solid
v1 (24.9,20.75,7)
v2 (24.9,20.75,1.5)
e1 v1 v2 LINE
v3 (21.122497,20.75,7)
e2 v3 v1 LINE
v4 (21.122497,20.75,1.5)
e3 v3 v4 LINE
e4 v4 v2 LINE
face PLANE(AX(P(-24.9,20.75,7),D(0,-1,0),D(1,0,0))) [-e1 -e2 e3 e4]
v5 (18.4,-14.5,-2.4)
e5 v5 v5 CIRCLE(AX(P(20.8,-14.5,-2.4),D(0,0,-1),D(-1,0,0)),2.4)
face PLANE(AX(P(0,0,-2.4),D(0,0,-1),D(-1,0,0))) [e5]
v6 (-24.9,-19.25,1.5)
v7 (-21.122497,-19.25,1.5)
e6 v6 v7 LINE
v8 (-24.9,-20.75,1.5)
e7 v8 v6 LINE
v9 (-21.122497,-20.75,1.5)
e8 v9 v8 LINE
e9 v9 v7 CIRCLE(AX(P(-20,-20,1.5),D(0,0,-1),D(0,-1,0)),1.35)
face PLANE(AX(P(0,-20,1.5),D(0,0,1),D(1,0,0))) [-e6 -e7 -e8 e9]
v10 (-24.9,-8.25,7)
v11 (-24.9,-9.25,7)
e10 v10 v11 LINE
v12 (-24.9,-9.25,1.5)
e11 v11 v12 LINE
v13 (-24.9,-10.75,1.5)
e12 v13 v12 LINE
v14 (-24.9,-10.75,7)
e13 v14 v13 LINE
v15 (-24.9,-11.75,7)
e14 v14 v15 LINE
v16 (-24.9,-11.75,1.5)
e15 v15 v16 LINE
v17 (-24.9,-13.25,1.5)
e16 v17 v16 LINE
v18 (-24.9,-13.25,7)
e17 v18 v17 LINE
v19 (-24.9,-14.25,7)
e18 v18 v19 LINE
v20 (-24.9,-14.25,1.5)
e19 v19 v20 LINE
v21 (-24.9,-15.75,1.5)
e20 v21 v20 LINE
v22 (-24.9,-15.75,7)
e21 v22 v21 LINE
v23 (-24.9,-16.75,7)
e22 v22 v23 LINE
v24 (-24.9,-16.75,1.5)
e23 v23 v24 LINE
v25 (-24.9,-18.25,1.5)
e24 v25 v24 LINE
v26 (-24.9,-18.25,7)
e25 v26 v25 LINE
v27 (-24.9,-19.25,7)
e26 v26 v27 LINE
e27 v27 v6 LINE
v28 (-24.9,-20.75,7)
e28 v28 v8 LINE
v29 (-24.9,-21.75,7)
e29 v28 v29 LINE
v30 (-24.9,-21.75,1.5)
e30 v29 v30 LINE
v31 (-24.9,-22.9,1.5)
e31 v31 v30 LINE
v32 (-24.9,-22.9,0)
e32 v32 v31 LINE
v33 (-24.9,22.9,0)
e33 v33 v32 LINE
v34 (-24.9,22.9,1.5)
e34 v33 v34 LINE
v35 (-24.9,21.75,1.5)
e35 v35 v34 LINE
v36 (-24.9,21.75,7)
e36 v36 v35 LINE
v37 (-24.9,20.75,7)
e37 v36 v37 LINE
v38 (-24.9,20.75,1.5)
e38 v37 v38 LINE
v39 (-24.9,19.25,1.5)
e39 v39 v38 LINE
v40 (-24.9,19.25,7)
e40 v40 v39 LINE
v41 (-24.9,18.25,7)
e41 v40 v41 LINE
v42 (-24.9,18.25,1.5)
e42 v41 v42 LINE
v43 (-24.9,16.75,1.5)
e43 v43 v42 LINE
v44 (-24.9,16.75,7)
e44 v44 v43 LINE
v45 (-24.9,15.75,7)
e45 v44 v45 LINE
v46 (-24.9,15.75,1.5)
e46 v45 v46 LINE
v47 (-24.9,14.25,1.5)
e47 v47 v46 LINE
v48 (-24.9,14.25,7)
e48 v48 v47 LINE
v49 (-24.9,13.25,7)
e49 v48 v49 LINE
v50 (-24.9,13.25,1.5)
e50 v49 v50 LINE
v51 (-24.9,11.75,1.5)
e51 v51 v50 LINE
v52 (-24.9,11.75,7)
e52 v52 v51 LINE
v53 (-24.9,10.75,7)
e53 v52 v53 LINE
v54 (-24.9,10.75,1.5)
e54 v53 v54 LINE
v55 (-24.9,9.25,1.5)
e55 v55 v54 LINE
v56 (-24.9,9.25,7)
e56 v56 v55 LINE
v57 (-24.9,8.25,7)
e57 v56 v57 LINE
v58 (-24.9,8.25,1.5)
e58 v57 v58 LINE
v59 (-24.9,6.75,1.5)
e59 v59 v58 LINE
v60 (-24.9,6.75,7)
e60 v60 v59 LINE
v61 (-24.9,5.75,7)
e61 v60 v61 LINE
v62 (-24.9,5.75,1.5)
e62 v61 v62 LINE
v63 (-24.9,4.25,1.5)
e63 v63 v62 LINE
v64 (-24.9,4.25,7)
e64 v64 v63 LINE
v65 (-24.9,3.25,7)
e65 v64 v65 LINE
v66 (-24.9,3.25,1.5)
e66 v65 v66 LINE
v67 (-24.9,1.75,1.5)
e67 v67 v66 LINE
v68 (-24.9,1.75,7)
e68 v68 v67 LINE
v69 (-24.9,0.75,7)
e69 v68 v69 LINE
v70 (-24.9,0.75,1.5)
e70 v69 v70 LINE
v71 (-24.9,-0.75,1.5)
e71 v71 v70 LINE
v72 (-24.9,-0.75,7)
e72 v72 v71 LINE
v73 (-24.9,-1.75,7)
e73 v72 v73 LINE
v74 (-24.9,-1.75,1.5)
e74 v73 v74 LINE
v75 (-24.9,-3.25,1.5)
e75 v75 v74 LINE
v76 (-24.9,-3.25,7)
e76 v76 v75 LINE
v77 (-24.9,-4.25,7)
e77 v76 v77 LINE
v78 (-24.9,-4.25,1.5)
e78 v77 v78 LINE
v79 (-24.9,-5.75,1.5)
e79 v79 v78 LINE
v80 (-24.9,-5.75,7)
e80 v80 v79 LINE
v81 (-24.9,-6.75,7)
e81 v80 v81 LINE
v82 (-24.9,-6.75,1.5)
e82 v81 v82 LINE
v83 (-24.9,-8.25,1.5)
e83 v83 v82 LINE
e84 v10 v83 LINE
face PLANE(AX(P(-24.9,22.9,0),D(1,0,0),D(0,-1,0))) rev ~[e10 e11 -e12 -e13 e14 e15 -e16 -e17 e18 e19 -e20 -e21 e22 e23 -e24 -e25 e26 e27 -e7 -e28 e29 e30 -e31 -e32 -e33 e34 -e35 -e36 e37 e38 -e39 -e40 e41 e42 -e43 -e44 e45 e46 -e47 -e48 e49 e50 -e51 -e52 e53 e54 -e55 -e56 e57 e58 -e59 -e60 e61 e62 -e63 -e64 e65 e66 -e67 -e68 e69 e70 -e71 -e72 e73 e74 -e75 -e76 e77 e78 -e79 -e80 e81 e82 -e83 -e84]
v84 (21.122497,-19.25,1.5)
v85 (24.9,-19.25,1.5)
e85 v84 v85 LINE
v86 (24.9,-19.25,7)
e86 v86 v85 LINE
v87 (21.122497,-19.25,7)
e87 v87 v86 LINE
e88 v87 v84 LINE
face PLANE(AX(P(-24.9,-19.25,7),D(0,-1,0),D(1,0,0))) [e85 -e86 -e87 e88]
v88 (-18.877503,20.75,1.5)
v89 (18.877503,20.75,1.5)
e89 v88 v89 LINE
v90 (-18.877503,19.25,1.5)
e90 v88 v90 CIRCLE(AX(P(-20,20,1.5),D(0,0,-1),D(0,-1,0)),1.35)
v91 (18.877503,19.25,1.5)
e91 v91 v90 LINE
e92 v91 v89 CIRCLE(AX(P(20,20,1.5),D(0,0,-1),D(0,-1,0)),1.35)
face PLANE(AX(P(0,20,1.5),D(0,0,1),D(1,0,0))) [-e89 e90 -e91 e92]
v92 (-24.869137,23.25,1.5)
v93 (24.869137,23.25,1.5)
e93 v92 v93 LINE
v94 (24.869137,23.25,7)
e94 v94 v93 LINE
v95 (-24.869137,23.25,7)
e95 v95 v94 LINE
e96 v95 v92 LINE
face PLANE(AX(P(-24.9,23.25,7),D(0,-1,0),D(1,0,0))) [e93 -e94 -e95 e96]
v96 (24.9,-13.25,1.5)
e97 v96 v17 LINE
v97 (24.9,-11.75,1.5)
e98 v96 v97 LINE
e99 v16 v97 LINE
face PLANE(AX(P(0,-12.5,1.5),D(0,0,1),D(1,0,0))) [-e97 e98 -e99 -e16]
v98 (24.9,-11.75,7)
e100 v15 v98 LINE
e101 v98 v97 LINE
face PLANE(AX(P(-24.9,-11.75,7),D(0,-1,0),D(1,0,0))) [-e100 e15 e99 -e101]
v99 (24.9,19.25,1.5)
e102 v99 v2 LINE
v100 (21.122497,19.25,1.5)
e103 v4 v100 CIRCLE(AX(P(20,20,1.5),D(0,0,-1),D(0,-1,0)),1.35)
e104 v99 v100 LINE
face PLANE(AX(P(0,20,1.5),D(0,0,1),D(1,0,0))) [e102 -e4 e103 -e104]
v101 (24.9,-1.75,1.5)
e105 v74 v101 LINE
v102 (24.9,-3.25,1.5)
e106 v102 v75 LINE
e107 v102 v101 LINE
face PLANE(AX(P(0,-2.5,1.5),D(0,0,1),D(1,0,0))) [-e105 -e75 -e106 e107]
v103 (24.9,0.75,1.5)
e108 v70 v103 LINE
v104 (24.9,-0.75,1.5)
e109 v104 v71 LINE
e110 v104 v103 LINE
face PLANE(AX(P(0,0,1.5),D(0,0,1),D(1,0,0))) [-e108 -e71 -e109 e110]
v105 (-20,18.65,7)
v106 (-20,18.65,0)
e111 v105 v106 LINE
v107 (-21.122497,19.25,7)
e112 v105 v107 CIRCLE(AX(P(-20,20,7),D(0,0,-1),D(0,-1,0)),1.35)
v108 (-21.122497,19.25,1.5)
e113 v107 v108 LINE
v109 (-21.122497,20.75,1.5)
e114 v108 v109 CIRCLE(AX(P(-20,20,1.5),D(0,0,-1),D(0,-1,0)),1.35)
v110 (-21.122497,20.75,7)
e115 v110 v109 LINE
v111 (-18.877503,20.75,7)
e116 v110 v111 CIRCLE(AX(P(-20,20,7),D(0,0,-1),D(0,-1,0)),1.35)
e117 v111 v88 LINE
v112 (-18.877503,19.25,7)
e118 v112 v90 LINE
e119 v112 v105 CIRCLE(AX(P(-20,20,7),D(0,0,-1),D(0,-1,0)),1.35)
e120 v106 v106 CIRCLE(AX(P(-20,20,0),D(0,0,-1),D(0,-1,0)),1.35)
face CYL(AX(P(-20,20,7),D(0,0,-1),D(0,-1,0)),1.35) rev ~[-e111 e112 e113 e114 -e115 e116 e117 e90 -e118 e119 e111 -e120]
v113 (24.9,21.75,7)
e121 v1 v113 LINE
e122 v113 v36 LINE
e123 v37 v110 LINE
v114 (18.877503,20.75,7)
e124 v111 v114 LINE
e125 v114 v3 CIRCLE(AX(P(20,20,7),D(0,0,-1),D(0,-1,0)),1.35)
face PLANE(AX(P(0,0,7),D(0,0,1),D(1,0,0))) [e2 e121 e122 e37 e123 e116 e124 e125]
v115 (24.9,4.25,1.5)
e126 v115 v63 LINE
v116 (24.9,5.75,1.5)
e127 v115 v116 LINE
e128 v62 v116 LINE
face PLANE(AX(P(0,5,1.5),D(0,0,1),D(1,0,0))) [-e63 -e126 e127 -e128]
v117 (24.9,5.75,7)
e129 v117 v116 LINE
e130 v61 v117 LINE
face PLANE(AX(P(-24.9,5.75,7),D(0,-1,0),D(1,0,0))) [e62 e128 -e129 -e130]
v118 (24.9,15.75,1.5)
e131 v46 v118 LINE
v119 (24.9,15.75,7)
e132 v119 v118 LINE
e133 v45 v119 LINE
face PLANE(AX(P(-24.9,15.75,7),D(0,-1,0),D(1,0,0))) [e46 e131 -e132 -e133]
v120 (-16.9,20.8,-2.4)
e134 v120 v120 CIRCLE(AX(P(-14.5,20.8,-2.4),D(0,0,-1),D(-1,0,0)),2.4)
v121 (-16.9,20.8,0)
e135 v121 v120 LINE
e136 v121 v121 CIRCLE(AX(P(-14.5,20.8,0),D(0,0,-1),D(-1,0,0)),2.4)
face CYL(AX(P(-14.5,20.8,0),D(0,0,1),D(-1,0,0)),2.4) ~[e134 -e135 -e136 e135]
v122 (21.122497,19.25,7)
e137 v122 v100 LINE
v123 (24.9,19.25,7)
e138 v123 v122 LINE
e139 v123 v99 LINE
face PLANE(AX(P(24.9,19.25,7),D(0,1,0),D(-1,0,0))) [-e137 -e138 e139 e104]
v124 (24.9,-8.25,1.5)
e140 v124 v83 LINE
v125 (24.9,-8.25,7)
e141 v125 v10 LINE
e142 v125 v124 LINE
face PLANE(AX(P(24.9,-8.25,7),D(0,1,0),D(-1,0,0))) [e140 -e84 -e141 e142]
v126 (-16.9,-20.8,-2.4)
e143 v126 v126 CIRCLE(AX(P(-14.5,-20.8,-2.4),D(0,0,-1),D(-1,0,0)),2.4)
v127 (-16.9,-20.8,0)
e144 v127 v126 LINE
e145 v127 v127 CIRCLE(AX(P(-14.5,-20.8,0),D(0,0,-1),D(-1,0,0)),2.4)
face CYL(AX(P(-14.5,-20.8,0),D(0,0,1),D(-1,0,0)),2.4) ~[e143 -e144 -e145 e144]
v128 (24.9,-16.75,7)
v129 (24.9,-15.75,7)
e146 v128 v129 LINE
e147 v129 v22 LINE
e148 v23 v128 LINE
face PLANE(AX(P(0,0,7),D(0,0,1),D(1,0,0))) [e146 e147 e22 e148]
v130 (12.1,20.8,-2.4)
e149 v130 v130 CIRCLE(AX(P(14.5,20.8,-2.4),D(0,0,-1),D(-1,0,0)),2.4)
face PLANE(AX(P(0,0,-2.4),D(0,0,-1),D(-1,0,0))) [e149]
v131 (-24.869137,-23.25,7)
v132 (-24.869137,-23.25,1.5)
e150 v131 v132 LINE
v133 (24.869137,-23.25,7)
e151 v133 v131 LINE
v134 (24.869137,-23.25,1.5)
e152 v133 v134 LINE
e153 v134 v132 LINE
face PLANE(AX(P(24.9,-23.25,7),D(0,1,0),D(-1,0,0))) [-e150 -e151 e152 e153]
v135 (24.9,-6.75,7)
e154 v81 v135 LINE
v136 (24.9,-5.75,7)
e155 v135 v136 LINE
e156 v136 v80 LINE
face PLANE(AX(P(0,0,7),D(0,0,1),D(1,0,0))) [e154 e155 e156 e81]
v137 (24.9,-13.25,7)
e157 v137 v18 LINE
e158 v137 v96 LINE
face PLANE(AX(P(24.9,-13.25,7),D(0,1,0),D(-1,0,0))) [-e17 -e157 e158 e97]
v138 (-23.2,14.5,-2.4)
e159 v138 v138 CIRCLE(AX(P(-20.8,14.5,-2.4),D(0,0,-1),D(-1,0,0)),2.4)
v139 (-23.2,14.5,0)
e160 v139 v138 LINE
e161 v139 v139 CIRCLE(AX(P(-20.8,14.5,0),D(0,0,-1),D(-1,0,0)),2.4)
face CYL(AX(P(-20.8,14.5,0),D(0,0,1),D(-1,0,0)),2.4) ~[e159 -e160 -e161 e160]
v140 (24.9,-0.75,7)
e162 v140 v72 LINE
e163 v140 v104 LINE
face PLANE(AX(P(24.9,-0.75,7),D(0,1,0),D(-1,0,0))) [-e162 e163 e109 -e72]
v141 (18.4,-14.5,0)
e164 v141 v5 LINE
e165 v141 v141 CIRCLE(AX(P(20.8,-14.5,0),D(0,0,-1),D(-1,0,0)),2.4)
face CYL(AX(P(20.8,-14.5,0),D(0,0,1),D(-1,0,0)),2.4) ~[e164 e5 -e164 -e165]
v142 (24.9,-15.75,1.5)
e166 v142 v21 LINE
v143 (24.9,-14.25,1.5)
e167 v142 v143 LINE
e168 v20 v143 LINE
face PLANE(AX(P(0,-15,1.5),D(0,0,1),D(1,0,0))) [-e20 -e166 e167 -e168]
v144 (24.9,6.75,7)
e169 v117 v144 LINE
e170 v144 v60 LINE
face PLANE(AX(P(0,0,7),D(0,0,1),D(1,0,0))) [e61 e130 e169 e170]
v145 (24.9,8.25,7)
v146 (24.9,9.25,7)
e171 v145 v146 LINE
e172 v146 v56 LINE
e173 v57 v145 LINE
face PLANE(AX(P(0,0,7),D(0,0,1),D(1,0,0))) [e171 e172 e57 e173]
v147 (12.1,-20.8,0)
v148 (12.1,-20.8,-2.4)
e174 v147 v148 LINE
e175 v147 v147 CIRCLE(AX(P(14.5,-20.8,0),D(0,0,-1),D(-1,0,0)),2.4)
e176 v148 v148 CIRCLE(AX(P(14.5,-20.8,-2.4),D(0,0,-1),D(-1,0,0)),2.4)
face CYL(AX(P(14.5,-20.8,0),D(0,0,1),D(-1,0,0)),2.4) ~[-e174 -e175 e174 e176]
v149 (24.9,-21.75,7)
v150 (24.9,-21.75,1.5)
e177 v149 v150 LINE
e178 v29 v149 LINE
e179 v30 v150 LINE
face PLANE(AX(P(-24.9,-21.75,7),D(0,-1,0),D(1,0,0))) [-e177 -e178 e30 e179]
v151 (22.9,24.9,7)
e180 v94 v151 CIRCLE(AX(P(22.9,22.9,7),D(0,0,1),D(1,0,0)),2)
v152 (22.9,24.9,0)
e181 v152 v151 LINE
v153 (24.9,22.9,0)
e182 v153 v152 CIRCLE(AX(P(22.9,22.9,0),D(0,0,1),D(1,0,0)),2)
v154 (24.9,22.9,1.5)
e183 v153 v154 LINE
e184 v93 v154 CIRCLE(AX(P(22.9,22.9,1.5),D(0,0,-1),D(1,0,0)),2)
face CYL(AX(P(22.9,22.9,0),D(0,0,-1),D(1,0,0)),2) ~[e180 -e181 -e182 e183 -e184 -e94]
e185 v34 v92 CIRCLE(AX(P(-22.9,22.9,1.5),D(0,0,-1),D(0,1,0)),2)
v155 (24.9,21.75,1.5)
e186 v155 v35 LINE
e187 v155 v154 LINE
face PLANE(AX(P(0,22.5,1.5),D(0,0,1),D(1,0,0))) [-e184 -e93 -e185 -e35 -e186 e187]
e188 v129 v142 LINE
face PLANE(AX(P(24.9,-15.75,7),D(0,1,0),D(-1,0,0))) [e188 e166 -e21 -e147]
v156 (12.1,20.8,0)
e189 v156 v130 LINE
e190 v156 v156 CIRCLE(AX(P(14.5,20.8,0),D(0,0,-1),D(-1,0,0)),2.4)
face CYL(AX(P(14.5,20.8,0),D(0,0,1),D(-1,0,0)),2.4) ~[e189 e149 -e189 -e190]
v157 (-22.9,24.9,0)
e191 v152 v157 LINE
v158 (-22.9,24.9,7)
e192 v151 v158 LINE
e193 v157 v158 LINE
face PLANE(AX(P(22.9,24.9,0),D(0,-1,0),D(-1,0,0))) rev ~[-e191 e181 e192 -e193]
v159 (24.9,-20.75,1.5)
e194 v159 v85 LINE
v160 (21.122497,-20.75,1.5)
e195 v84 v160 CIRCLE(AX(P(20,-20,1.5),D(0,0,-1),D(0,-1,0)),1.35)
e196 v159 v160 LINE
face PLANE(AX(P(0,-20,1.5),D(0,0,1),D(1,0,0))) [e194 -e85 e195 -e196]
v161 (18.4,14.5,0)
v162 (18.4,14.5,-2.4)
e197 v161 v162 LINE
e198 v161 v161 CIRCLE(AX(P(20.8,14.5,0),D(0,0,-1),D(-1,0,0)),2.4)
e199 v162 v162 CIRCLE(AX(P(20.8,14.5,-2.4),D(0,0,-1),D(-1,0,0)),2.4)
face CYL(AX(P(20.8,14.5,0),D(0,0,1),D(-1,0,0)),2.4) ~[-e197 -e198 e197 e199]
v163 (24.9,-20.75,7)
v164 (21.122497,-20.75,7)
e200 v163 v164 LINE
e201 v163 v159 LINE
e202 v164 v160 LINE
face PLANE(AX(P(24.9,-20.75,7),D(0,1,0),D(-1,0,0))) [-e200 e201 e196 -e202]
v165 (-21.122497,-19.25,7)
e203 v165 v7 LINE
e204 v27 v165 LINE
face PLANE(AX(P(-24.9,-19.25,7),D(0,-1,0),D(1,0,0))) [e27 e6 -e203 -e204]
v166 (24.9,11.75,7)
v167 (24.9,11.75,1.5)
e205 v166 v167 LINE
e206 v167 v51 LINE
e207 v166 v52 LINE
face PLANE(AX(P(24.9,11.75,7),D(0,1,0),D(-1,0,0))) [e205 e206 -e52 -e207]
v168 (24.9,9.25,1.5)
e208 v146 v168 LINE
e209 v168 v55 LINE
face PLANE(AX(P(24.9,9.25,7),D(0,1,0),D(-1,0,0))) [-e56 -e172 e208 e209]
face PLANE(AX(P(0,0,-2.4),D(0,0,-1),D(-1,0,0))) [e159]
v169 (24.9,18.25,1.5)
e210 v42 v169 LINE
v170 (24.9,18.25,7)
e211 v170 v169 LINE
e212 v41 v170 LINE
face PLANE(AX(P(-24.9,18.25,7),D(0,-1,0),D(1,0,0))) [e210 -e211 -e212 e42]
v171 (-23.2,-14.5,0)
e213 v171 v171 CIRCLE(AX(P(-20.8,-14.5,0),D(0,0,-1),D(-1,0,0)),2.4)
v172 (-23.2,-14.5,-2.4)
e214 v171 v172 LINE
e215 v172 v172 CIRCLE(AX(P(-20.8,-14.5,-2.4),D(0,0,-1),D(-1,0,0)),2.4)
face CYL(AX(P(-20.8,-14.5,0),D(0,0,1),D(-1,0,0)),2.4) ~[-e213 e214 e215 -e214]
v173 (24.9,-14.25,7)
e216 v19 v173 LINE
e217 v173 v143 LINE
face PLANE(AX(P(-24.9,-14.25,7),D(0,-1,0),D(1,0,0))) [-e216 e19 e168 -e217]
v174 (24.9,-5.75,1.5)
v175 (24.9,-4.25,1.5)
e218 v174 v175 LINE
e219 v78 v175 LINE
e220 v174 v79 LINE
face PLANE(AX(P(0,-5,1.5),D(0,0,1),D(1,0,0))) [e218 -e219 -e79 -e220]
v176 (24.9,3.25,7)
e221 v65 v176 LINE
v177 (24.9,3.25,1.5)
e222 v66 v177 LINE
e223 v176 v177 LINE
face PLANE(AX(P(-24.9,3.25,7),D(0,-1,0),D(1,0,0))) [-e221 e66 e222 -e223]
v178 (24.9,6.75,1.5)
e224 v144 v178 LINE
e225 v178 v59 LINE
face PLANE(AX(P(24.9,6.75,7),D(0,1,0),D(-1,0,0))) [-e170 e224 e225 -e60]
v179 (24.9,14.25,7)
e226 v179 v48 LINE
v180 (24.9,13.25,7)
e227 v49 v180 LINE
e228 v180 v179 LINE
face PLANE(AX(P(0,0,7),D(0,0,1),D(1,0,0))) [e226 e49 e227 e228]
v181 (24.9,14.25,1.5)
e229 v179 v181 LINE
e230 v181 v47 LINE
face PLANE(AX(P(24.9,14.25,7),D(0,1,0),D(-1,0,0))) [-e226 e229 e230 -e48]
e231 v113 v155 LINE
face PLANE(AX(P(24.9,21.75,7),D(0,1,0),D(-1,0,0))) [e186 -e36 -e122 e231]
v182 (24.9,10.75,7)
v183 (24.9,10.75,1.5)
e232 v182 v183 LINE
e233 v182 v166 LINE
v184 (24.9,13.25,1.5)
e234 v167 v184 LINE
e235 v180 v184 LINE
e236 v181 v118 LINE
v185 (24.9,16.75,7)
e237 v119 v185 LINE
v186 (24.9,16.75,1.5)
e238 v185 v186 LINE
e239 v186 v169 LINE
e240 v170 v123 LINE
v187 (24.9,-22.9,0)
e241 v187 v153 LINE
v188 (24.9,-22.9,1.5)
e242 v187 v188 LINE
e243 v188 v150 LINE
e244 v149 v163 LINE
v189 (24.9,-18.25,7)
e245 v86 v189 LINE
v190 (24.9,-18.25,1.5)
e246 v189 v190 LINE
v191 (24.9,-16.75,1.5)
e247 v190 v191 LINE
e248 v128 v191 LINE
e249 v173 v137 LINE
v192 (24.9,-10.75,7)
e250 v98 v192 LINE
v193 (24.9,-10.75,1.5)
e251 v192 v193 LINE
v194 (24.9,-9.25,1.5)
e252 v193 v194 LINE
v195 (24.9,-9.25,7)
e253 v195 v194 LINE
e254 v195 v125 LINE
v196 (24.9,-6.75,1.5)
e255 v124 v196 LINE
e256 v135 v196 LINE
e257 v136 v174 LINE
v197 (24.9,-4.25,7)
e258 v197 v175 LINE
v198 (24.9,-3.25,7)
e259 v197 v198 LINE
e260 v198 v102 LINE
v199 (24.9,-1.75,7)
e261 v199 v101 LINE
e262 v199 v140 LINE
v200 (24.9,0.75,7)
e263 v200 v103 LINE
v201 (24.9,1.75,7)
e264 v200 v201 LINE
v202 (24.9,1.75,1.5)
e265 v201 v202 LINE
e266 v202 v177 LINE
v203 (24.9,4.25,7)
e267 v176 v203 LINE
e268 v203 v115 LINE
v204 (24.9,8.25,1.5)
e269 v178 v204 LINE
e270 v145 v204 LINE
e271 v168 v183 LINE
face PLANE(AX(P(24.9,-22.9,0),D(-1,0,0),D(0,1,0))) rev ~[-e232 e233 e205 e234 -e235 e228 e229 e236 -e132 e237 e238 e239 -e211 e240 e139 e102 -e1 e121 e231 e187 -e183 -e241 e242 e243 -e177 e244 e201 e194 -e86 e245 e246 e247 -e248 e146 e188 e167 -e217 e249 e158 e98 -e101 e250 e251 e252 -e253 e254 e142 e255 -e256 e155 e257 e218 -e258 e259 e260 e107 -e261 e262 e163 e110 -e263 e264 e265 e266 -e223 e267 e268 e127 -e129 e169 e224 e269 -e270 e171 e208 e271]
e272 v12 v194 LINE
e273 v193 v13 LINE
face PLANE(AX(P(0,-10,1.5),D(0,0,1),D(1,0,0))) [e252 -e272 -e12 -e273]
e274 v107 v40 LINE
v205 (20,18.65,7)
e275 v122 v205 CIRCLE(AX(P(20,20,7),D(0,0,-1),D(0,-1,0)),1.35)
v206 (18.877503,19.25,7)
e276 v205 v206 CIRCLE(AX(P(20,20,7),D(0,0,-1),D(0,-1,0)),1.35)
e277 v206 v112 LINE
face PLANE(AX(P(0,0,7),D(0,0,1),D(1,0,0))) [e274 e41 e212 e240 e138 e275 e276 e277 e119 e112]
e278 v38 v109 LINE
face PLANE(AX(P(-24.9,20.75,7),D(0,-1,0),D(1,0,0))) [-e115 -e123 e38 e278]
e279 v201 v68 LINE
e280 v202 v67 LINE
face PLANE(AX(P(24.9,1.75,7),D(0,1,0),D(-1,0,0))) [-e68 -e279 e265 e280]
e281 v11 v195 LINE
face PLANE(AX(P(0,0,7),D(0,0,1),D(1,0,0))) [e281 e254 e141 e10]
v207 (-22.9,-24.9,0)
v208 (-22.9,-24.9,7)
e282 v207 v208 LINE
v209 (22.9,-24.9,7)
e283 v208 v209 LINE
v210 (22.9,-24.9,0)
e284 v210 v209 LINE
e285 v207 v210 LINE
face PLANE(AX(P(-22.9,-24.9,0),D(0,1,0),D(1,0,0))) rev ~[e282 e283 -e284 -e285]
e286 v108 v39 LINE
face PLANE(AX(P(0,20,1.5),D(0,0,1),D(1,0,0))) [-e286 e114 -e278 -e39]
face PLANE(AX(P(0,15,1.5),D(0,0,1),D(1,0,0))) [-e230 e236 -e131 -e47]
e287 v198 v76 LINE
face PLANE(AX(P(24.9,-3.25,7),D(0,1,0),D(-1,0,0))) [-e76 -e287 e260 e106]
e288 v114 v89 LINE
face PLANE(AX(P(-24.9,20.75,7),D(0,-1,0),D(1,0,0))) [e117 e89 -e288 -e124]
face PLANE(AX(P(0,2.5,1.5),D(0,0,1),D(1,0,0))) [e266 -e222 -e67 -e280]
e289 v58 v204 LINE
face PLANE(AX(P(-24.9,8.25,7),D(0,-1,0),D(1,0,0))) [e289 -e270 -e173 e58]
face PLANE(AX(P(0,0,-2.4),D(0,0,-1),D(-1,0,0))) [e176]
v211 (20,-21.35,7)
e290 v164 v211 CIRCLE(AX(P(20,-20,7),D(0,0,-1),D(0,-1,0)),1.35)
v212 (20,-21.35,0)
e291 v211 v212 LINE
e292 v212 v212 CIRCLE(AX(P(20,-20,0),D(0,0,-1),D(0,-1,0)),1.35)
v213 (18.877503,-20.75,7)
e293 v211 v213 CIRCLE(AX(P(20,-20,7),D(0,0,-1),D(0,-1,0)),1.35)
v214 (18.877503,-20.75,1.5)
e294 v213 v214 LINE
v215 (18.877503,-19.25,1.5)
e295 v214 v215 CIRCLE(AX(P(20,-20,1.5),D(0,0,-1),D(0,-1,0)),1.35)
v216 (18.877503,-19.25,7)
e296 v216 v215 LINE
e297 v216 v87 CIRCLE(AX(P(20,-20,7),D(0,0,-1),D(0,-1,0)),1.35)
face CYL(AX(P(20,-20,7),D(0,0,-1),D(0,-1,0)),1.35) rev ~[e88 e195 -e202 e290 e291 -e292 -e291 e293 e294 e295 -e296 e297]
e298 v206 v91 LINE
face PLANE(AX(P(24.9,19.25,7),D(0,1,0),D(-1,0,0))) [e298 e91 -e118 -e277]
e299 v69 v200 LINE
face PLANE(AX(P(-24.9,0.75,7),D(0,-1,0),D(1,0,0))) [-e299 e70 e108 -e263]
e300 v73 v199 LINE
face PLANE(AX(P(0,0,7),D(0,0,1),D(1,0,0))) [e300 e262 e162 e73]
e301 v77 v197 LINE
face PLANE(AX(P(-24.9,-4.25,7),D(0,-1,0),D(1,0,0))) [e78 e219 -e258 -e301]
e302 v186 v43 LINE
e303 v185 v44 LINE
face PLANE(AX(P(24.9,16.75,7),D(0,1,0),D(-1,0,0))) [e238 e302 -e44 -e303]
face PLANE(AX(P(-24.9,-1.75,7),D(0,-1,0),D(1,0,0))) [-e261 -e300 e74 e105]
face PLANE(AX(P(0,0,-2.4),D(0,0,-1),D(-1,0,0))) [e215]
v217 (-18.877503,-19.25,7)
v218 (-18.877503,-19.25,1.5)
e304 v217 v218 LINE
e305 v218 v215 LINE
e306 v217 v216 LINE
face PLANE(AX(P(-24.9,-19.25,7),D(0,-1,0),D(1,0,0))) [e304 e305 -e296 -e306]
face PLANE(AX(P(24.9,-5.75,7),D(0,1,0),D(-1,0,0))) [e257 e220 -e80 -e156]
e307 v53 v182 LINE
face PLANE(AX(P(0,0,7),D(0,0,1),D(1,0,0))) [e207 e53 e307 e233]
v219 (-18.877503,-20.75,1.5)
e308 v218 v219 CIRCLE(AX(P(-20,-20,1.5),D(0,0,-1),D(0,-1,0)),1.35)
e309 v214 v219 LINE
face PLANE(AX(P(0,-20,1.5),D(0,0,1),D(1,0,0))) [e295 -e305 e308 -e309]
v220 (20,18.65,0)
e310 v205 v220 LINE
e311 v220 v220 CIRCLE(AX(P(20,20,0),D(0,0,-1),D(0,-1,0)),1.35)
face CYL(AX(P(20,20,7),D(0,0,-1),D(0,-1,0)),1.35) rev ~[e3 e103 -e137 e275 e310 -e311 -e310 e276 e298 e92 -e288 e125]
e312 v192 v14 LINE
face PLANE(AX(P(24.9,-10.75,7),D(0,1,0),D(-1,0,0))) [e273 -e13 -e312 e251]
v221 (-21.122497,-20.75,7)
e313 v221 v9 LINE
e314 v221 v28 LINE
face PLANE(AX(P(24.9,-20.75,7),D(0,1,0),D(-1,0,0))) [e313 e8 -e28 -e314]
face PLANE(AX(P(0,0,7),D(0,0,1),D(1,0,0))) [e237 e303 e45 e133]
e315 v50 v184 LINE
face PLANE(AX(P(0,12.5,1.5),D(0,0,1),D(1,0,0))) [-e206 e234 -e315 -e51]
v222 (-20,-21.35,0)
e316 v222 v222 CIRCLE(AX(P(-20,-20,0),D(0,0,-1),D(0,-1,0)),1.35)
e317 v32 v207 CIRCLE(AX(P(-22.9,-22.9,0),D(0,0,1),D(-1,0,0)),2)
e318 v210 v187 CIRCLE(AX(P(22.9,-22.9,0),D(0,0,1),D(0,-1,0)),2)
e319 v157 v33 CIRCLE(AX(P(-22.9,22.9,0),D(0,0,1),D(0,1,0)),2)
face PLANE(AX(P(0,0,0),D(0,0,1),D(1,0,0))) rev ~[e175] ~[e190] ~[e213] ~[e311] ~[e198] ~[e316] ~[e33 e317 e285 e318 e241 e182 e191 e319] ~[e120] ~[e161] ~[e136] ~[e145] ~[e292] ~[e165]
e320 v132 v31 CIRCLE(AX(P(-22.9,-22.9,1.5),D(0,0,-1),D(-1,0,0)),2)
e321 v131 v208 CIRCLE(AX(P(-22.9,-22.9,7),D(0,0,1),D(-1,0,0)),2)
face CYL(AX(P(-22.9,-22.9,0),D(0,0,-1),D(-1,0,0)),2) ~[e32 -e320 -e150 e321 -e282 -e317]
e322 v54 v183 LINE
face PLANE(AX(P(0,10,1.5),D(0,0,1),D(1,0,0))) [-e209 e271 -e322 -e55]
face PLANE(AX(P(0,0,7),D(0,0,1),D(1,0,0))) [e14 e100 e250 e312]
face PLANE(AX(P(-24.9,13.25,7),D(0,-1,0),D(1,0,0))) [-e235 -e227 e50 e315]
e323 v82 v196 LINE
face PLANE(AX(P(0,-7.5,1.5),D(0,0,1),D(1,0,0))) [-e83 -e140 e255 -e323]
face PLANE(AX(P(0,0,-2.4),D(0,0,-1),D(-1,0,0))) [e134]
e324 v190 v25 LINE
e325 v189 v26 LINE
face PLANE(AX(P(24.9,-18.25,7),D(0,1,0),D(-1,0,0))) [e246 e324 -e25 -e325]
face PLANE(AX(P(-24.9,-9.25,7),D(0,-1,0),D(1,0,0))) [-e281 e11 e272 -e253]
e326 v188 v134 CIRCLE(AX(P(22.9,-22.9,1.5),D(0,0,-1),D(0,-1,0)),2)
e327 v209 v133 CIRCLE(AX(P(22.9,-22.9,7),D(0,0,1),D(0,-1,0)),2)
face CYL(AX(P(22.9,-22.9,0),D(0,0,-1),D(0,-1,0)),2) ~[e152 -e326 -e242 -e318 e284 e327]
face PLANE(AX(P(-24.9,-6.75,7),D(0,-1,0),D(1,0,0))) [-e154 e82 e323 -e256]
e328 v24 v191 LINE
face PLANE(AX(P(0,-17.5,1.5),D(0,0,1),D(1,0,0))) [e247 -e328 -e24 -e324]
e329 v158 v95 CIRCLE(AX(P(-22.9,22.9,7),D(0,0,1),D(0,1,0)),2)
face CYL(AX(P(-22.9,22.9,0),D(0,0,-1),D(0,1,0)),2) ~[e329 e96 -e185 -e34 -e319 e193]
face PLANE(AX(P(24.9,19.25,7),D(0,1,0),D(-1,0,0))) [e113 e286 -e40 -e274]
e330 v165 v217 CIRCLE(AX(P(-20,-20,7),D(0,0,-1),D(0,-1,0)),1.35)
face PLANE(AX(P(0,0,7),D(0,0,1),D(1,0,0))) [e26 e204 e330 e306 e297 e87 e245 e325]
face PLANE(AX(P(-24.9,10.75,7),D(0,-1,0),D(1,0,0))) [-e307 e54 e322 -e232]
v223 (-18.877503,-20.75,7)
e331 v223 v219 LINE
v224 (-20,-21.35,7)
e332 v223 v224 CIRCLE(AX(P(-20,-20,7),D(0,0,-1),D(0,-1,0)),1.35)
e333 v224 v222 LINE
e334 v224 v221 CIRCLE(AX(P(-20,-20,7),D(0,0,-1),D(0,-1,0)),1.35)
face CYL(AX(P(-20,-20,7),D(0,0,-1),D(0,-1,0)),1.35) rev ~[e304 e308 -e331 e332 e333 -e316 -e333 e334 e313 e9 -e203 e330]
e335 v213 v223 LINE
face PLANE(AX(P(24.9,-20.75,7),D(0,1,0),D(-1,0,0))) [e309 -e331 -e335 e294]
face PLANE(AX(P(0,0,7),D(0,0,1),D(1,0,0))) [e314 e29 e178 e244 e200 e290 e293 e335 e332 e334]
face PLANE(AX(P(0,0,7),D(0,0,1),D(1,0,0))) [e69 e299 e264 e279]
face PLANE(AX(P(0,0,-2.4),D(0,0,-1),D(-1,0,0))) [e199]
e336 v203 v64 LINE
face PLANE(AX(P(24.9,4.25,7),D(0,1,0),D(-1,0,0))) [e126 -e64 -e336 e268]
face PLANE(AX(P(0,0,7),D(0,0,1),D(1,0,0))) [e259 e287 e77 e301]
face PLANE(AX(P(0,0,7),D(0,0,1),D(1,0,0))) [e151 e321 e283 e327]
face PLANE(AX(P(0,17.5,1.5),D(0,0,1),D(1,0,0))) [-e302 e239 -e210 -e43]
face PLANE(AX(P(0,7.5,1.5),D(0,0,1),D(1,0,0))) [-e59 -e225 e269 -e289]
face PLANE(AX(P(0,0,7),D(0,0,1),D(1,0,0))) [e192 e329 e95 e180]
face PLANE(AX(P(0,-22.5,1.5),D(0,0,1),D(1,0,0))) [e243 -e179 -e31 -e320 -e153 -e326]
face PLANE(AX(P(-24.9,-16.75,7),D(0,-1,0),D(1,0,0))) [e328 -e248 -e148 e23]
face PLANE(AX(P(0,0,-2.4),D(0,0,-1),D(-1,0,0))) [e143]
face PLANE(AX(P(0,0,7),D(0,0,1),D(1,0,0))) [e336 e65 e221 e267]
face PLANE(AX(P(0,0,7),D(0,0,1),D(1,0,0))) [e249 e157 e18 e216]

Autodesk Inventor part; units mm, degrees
ref_plane "YZ Plane" through (0, 0, 0) normal (1, 0, 0) x (0, 1, 0)
ref_plane "XZ Plane" through (0, 0, 0) normal (0, 1, 0) x (-1, 0, 0)
ref_plane "Arbeitsebene1" through (0, 0, 0) normal (0, 0, 1) x (1, 0, 0)
sketch "Skizze1" plane through (0, 0, 0) normal (0, 0, 1) x (1, 0, 0)
  arc A0 (-22.9, 24.9) -> (-24.9, 22.9) centre (-22.9, 22.9) ccw projected
  line L0 (-24.9, 22.9) -> (-24.9, -22.9) projected
  arc A1 (-24.9, -22.9) -> (-22.9, -24.9) centre (-22.9, -22.9) ccw projected
  line L1 (-22.9, -24.9) -> (22.9, -24.9) projected
  arc A2 (22.9, -24.9) -> (24.9, -22.9) centre (22.9, -22.9) ccw projected
  line L2 (24.9, -22.9) -> (24.9, 22.9) projected
  arc A3 (24.9, 22.9) -> (22.9, 24.9) centre (22.9, 22.9) ccw projected
  line L3 (22.9, 24.9) -> (-22.9, 24.9) projected
  circle A4 centre (20, 20) radius 1.6 projected
  circle A5 centre (-20, -20) radius 1.6 projected
  circle A6 centre (20, -20) radius 1.6 projected
  circle A7 centre (-20, 20) radius 1.6 projected
  arc A8 (6.7383, -21.066) -> (8.3017, -21.066) centre (7.52, -20.62) ccw projected
  line L4 (6.7383, -21.066) -> (-6.9383, -21.066) projected
  arc A9 (-8.5017, -21.066) -> (-6.9383, -21.066) centre (-7.72, -20.62) ccw projected
  line L5 (-8.5017, -21.066) -> (-17.9, -21.066) projected
  line L6 (-17.9, -21.066) -> (-17.9, 21.066) projected
  line L7 (-17.9, 21.066) -> (17.9, 21.066) projected
  line L8 (17.9, 21.066) -> (17.9, 12) projected
  arc A10 (14.9, 9) -> (17.9, 12) centre (14.9, 12) ccw projected
  line L9 (14.5, 9) -> (14.9, 9) projected
  arc A11 (14.5, 9) -> (11.5, 6) centre (14.5, 6) ccw projected
  line L10 (11.5, -6) -> (11.5, 6) projected
  arc A12 (11.5, -6) -> (14.5, -9) centre (14.5, -6) ccw projected
  line L11 (14.9, -9) -> (14.5, -9) projected
  arc A13 (17.9, -12) -> (14.9, -9) centre (14.9, -12) ccw projected
  line L12 (17.9, -12) -> (17.9, -21.066) projected
  line L13 (17.9, -21.066) -> (8.3017, -21.066) projected
  arc A14 (13.4381, 5.6873) -> (13.3881, 5.2) centre (15.7881, 5.2) ccw projected
  line L14 (13.4381, 5.6873) -> (13.4381, 7.6) projected
  line L15 (13.4381, 7.6) -> (15.7881, 7.6) projected
  arc A15 (18.1881, 5.2) -> (15.7881, 7.6) centre (15.7881, 5.2) ccw projected
  line L16 (18.1881, 5.2) -> (18.1881, -5.2) projected
  arc A16 (15.7881, -7.6) -> (18.1881, -5.2) centre (15.7881, -5.2) ccw projected
  line L17 (15.7881, -7.6) -> (13.4381, -7.6) projected
  line L18 (13.4381, -7.6) -> (13.4381, -5.6873) projected
  arc A17 (13.3881, -5.2) -> (13.4381, -5.6873) centre (15.7881, -5.2) ccw projected
  line L19 (13.3881, -5.2) -> (13.3881, 5.2) projected
  line L20 (17.9, 21.066) -> (17.9, -21.066)
  point P0 (0, 0)
extrude "Extrusion1" add sketch "Skizze1" along normal blind 7 contours L3 A3 L2 A2 L1 A1 L0 A0 | A4 | A5 | A6 | A7 | L4 A9 L5 L6 L7 L8 A10 L9 A11 L10 A12 L11 A13 L12 L13 A8 | A13 L11 A12 L10 A11 L9 A10 L20 A15 L15 L14 A14 L19 A17 L18 L17 A16 | L20 A15 L16 A16 | A16 L17 L18 A17 L19 A14 L14 L15 A15 L20
sketch "Skizze2" plane through (0, 0, 7) normal (0, 0, 1) x (1, 0, 0)
  circle A0 centre (-20, 20) radius 1.6 projected
  circle A1 centre (20, 20) radius 1.6 projected
  circle A2 centre (20, -20) radius 1.6 projected
  circle A3 centre (-20, -20) radius 1.6 projected
  line L0 (24.9, -22.9) -> (24.9, 22.9) projected
  line L1 (-24.9, 0.75) -> (24.9, 0.75)
  line L2 (24.9, 0.75) -> (24.9, -0.75)
  line L3 (24.9, -0.75) -> (-24.9, -0.75)
  line L4 (-24.9, -0.75) -> (-24.9, 0.75)
  line L5 (-24.9, 0.75) -> (24.9, -0.75) construction
  line L6 (24.9, 0.75) -> (-24.9, -0.75) construction
  point P0 (0, 0)
  dimension "d2" = 1.5
extrude "Extrusion2" cut sketch "Skizze2" against normal blind 5.5 contours L3 L4 L1 L0
pattern_linear "Rechteckige Anordnung1" count 10 spacing 2.5 along (0, -1, 0) count 10 spacing 2.5 along (0, 1, 0) of "Extrusion2"
sketch "Skizze3" plane through (0, 0, 7) normal (0, 0, 1) x (1, 0, 0)
  circle A0 centre (-20, -20) radius 1.6 projected
  line L0 (18.8686, -21.1314) -> (18.4, -21.6) projected
  arc A1 (22.9, -19.2319) -> (19.2319, -22.9) centre (20, -20) ccw projected
  circle A2 centre (20, 20) radius 1.6 projected
  circle A3 centre (-20, 20) radius 1.6 projected
  point P0 (0, 0)
hole "Bohrung1" at (-20, 20, 7) at (20, 20, 7) at (20, -20, 7) at (-20, -20, 7) direction (0, 0, -1) diameter 2.7 end through all
sketch "Sketch4" plane through (0, 0, 0) normal (0, 0, -1) x (-1, 0, 0)
  circle A0 centre (-20, -20) radius 1.35 construction
  circle A1 centre (20, 20) radius 1.35 construction
  circle A2 centre (-20, 20) radius 1.35 construction
  circle A3 centre (20, -20) radius 1.35 construction
  arc A4 (24.9, 22.9) -> (22.9, 24.9) centre (22.9, 22.9) ccw construction
  line L0 (22.9, 24.9) -> (-22.9, 24.9) construction
  arc A5 (-22.9, 24.9) -> (-24.9, 22.9) centre (-22.9, 22.9) ccw construction
  line L1 (-24.9, 22.9) -> (-24.9, -22.9) construction
  arc A6 (-24.9, -22.9) -> (-22.9, -24.9) centre (-22.9, -22.9) ccw construction
  line L2 (-22.9, -24.9) -> (22.9, -24.9) construction
  arc A7 (22.9, -24.9) -> (24.9, -22.9) centre (22.9, -22.9) ccw construction
  line L3 (24.9, -22.9) -> (24.9, 22.9) construction
  line L4 (35.4399, 0) -> (-35.4399, 0) construction
  line L5 (0, -35.4399) -> (0, 35.4399) construction
  circle A8 centre (21, 0.2) radius 2.5 construction
  circle A9 centre (-0.4, -21) radius 2.5 construction
  line L6 (-4.8804, 23.8709) -> (-4.8804, 25) construction
  line L7 (-4.8804, 25) -> (-23, 25) construction
  arc A10 (-23, 25) -> (-25, 23) centre (-23, 23) ccw construction
  line L8 (-25, 5.0901) -> (-25, 23) construction
  line L9 (-25, 5.0901) -> (-23.8731, 5.0901) construction
  arc A11 (-23.8731, 5.0901) -> (-23.4716, 5.4179) centre (-23.8731, 5.4998) ccw construction
  arc A12 (-19.3339, 5) -> (-23.4716, 5.4179) centre (-21.4238, 5) ccw construction
  line L10 (-19.3339, 5) -> (-19.3339, -4.7986) construction
  arc A13 (-23.4417, -5.341) -> (-19.3339, -4.7986) centre (-21.397, -5) ccw construction
  line L11 (-23.4417, -5.341) -> (-23.4722, -5.2203) construction
  arc A14 (-23.4722, -5.2203) -> (-23.8709, -4.8804) centre (-23.8777, -5.2921) ccw construction
  line L12 (-23.8709, -4.8804) -> (-25, -4.8804) construction
  line L13 (-25, -23) -> (-25, -4.8804) construction
  arc A15 (-25, -23) -> (-23, -25) centre (-23, -23) ccw construction
  line L14 (-23, -25) -> (-5, -25) construction
  line L15 (-5, -25) -> (-5, -26.0505) construction
  arc A16 (-5.4, -26.5404) -> (-5, -26.0505) centre (-5.5, -26.0505) ccw construction
  arc A17 (-5.4, -26.5404) -> (-5, -30.5) centre (-5, -28.5) ccw construction
  line L16 (-5, -30.5) -> (5, -30.5) construction
  arc A18 (5, -30.5) -> (5.4, -26.5404) centre (5, -28.5) ccw construction
  arc A19 (5, -26.0505) -> (5.4, -26.5404) centre (5.5, -26.0505) ccw construction
  line L17 (5, -26.0505) -> (5, -25) construction
  line L18 (5, -25) -> (23, -25) construction
  arc A20 (23, -25) -> (25, -23) centre (23, -23) ccw construction
  line L19 (25, -5) -> (25, -23) construction
  line L20 (25, -5) -> (26.0505, -5) construction
  arc A21 (26.5404, -5.4) -> (26.0505, -5) centre (26.0505, -5.5) ccw construction
  arc A22 (26.5404, -5.4) -> (30.5, -5) centre (28.5, -5) ccw construction
  line L21 (30.5, -5) -> (30.5, 5) construction
  arc A23 (30.5, 5) -> (26.5404, 5.4) centre (28.5, 5) ccw construction
  arc A24 (26.0505, 5) -> (26.5404, 5.4) centre (26.0505, 5.5) ccw construction
  line L22 (26.0505, 5) -> (25, 5) construction
  line L23 (25, 23) -> (25, 5) construction
  arc A25 (25, 23) -> (23, 25) centre (23, 23) ccw construction
  line L24 (23, 25) -> (5.0901, 25) construction
  line L25 (5.0901, 25) -> (5.0901, 23.8731) construction
  arc A26 (5.0901, 23.8731) -> (5.4179, 23.4716) centre (5.4998, 23.8731) ccw construction
  arc A27 (5, 19.3339) -> (5.4179, 23.4716) centre (5, 21.4238) ccw construction
  line L26 (5, 19.3339) -> (-4.7986, 19.3339) construction
  arc A28 (-5.341, 23.4417) -> (-4.7986, 19.3339) centre (-5, 21.397) ccw construction
  line L27 (-5.341, 23.4417) -> (-5.2203, 23.4722) construction
  arc A29 (-5.2203, 23.4722) -> (-4.8804, 23.8709) centre (-5.2921, 23.8777) ccw construction
  line L28 (15, 17) -> (-15, 17) construction
  arc A30 (17, 15) -> (15, 17) centre (15, 15) ccw construction
  line L29 (17, 15) -> (17, -15) construction
  arc A31 (15, -17) -> (17, -15) centre (15, -15) ccw construction
  line L30 (15, -17) -> (-15, -17) construction
  arc A32 (-17, -15) -> (-15, -17) centre (-15, -15) ccw construction
  line L31 (-17, -15) -> (-17, 15) construction
  arc A33 (-15, 17) -> (-17, 15) centre (-15, 15) ccw construction
  circle A34 centre (-20, 20) radius 2.425 construction
  circle A35 centre (-14.5, 20.8) radius 2.65 construction
  circle A36 centre (-20.8, 14.5) radius 2.65 construction
  circle A37 centre (-20, -20) radius 2.425 construction
  circle A38 centre (-14.5, -20.8) radius 2.65 construction
  circle A39 centre (-20.8, -14.5) radius 2.65 construction
  circle A40 centre (20, 20) radius 2.425 construction
  circle A41 centre (14.5, 20.8) radius 2.65 construction
  circle A42 centre (20.8, 14.5) radius 2.65 construction
  circle A43 centre (20.8, -14.5) radius 2.65 construction
  circle A44 centre (14.5, -20.8) radius 2.65 construction
  circle A45 centre (20, -20) radius 2.425 construction
  circle A46 centre (-14.5, 20.8) radius 2.4
  circle A47 centre (14.5, 20.8) radius 2.4
  circle A48 centre (20.8, 14.5) radius 2.4
  circle A49 centre (20.8, -14.5) radius 2.4
  circle A50 centre (14.5, -20.8) radius 2.4
  circle A51 centre (-14.5, -20.8) radius 2.4
  circle A52 centre (-20.8, -14.5) radius 2.4
  circle A53 centre (-20.8, 14.5) radius 2.4
  point P0 (-0.4, 0.2)
  dimension "d19" = 0.25
  dimension "d20" = 0.25
  dimension "d21" = 0.25
  dimension "d22" = 0.25
  dimension "d23" = 0.25
  dimension "d24" = 0.25
  dimension "d25" = 0.25
  dimension "d26" = 0.25
extrude "Extrusion3" add sketch "Sketch4" along normal blind 2.4
equation "\"d20\" = d19"
equation "\"d21\" = d19"
equation "\"d22\" = d19"
equation "\"d23\" = d19"
equation "\"d24\" = d19"
equation "\"d25\" = d19"
equation "\"d26\" = d19"
properties part number "10_Cube_sampleholder"
